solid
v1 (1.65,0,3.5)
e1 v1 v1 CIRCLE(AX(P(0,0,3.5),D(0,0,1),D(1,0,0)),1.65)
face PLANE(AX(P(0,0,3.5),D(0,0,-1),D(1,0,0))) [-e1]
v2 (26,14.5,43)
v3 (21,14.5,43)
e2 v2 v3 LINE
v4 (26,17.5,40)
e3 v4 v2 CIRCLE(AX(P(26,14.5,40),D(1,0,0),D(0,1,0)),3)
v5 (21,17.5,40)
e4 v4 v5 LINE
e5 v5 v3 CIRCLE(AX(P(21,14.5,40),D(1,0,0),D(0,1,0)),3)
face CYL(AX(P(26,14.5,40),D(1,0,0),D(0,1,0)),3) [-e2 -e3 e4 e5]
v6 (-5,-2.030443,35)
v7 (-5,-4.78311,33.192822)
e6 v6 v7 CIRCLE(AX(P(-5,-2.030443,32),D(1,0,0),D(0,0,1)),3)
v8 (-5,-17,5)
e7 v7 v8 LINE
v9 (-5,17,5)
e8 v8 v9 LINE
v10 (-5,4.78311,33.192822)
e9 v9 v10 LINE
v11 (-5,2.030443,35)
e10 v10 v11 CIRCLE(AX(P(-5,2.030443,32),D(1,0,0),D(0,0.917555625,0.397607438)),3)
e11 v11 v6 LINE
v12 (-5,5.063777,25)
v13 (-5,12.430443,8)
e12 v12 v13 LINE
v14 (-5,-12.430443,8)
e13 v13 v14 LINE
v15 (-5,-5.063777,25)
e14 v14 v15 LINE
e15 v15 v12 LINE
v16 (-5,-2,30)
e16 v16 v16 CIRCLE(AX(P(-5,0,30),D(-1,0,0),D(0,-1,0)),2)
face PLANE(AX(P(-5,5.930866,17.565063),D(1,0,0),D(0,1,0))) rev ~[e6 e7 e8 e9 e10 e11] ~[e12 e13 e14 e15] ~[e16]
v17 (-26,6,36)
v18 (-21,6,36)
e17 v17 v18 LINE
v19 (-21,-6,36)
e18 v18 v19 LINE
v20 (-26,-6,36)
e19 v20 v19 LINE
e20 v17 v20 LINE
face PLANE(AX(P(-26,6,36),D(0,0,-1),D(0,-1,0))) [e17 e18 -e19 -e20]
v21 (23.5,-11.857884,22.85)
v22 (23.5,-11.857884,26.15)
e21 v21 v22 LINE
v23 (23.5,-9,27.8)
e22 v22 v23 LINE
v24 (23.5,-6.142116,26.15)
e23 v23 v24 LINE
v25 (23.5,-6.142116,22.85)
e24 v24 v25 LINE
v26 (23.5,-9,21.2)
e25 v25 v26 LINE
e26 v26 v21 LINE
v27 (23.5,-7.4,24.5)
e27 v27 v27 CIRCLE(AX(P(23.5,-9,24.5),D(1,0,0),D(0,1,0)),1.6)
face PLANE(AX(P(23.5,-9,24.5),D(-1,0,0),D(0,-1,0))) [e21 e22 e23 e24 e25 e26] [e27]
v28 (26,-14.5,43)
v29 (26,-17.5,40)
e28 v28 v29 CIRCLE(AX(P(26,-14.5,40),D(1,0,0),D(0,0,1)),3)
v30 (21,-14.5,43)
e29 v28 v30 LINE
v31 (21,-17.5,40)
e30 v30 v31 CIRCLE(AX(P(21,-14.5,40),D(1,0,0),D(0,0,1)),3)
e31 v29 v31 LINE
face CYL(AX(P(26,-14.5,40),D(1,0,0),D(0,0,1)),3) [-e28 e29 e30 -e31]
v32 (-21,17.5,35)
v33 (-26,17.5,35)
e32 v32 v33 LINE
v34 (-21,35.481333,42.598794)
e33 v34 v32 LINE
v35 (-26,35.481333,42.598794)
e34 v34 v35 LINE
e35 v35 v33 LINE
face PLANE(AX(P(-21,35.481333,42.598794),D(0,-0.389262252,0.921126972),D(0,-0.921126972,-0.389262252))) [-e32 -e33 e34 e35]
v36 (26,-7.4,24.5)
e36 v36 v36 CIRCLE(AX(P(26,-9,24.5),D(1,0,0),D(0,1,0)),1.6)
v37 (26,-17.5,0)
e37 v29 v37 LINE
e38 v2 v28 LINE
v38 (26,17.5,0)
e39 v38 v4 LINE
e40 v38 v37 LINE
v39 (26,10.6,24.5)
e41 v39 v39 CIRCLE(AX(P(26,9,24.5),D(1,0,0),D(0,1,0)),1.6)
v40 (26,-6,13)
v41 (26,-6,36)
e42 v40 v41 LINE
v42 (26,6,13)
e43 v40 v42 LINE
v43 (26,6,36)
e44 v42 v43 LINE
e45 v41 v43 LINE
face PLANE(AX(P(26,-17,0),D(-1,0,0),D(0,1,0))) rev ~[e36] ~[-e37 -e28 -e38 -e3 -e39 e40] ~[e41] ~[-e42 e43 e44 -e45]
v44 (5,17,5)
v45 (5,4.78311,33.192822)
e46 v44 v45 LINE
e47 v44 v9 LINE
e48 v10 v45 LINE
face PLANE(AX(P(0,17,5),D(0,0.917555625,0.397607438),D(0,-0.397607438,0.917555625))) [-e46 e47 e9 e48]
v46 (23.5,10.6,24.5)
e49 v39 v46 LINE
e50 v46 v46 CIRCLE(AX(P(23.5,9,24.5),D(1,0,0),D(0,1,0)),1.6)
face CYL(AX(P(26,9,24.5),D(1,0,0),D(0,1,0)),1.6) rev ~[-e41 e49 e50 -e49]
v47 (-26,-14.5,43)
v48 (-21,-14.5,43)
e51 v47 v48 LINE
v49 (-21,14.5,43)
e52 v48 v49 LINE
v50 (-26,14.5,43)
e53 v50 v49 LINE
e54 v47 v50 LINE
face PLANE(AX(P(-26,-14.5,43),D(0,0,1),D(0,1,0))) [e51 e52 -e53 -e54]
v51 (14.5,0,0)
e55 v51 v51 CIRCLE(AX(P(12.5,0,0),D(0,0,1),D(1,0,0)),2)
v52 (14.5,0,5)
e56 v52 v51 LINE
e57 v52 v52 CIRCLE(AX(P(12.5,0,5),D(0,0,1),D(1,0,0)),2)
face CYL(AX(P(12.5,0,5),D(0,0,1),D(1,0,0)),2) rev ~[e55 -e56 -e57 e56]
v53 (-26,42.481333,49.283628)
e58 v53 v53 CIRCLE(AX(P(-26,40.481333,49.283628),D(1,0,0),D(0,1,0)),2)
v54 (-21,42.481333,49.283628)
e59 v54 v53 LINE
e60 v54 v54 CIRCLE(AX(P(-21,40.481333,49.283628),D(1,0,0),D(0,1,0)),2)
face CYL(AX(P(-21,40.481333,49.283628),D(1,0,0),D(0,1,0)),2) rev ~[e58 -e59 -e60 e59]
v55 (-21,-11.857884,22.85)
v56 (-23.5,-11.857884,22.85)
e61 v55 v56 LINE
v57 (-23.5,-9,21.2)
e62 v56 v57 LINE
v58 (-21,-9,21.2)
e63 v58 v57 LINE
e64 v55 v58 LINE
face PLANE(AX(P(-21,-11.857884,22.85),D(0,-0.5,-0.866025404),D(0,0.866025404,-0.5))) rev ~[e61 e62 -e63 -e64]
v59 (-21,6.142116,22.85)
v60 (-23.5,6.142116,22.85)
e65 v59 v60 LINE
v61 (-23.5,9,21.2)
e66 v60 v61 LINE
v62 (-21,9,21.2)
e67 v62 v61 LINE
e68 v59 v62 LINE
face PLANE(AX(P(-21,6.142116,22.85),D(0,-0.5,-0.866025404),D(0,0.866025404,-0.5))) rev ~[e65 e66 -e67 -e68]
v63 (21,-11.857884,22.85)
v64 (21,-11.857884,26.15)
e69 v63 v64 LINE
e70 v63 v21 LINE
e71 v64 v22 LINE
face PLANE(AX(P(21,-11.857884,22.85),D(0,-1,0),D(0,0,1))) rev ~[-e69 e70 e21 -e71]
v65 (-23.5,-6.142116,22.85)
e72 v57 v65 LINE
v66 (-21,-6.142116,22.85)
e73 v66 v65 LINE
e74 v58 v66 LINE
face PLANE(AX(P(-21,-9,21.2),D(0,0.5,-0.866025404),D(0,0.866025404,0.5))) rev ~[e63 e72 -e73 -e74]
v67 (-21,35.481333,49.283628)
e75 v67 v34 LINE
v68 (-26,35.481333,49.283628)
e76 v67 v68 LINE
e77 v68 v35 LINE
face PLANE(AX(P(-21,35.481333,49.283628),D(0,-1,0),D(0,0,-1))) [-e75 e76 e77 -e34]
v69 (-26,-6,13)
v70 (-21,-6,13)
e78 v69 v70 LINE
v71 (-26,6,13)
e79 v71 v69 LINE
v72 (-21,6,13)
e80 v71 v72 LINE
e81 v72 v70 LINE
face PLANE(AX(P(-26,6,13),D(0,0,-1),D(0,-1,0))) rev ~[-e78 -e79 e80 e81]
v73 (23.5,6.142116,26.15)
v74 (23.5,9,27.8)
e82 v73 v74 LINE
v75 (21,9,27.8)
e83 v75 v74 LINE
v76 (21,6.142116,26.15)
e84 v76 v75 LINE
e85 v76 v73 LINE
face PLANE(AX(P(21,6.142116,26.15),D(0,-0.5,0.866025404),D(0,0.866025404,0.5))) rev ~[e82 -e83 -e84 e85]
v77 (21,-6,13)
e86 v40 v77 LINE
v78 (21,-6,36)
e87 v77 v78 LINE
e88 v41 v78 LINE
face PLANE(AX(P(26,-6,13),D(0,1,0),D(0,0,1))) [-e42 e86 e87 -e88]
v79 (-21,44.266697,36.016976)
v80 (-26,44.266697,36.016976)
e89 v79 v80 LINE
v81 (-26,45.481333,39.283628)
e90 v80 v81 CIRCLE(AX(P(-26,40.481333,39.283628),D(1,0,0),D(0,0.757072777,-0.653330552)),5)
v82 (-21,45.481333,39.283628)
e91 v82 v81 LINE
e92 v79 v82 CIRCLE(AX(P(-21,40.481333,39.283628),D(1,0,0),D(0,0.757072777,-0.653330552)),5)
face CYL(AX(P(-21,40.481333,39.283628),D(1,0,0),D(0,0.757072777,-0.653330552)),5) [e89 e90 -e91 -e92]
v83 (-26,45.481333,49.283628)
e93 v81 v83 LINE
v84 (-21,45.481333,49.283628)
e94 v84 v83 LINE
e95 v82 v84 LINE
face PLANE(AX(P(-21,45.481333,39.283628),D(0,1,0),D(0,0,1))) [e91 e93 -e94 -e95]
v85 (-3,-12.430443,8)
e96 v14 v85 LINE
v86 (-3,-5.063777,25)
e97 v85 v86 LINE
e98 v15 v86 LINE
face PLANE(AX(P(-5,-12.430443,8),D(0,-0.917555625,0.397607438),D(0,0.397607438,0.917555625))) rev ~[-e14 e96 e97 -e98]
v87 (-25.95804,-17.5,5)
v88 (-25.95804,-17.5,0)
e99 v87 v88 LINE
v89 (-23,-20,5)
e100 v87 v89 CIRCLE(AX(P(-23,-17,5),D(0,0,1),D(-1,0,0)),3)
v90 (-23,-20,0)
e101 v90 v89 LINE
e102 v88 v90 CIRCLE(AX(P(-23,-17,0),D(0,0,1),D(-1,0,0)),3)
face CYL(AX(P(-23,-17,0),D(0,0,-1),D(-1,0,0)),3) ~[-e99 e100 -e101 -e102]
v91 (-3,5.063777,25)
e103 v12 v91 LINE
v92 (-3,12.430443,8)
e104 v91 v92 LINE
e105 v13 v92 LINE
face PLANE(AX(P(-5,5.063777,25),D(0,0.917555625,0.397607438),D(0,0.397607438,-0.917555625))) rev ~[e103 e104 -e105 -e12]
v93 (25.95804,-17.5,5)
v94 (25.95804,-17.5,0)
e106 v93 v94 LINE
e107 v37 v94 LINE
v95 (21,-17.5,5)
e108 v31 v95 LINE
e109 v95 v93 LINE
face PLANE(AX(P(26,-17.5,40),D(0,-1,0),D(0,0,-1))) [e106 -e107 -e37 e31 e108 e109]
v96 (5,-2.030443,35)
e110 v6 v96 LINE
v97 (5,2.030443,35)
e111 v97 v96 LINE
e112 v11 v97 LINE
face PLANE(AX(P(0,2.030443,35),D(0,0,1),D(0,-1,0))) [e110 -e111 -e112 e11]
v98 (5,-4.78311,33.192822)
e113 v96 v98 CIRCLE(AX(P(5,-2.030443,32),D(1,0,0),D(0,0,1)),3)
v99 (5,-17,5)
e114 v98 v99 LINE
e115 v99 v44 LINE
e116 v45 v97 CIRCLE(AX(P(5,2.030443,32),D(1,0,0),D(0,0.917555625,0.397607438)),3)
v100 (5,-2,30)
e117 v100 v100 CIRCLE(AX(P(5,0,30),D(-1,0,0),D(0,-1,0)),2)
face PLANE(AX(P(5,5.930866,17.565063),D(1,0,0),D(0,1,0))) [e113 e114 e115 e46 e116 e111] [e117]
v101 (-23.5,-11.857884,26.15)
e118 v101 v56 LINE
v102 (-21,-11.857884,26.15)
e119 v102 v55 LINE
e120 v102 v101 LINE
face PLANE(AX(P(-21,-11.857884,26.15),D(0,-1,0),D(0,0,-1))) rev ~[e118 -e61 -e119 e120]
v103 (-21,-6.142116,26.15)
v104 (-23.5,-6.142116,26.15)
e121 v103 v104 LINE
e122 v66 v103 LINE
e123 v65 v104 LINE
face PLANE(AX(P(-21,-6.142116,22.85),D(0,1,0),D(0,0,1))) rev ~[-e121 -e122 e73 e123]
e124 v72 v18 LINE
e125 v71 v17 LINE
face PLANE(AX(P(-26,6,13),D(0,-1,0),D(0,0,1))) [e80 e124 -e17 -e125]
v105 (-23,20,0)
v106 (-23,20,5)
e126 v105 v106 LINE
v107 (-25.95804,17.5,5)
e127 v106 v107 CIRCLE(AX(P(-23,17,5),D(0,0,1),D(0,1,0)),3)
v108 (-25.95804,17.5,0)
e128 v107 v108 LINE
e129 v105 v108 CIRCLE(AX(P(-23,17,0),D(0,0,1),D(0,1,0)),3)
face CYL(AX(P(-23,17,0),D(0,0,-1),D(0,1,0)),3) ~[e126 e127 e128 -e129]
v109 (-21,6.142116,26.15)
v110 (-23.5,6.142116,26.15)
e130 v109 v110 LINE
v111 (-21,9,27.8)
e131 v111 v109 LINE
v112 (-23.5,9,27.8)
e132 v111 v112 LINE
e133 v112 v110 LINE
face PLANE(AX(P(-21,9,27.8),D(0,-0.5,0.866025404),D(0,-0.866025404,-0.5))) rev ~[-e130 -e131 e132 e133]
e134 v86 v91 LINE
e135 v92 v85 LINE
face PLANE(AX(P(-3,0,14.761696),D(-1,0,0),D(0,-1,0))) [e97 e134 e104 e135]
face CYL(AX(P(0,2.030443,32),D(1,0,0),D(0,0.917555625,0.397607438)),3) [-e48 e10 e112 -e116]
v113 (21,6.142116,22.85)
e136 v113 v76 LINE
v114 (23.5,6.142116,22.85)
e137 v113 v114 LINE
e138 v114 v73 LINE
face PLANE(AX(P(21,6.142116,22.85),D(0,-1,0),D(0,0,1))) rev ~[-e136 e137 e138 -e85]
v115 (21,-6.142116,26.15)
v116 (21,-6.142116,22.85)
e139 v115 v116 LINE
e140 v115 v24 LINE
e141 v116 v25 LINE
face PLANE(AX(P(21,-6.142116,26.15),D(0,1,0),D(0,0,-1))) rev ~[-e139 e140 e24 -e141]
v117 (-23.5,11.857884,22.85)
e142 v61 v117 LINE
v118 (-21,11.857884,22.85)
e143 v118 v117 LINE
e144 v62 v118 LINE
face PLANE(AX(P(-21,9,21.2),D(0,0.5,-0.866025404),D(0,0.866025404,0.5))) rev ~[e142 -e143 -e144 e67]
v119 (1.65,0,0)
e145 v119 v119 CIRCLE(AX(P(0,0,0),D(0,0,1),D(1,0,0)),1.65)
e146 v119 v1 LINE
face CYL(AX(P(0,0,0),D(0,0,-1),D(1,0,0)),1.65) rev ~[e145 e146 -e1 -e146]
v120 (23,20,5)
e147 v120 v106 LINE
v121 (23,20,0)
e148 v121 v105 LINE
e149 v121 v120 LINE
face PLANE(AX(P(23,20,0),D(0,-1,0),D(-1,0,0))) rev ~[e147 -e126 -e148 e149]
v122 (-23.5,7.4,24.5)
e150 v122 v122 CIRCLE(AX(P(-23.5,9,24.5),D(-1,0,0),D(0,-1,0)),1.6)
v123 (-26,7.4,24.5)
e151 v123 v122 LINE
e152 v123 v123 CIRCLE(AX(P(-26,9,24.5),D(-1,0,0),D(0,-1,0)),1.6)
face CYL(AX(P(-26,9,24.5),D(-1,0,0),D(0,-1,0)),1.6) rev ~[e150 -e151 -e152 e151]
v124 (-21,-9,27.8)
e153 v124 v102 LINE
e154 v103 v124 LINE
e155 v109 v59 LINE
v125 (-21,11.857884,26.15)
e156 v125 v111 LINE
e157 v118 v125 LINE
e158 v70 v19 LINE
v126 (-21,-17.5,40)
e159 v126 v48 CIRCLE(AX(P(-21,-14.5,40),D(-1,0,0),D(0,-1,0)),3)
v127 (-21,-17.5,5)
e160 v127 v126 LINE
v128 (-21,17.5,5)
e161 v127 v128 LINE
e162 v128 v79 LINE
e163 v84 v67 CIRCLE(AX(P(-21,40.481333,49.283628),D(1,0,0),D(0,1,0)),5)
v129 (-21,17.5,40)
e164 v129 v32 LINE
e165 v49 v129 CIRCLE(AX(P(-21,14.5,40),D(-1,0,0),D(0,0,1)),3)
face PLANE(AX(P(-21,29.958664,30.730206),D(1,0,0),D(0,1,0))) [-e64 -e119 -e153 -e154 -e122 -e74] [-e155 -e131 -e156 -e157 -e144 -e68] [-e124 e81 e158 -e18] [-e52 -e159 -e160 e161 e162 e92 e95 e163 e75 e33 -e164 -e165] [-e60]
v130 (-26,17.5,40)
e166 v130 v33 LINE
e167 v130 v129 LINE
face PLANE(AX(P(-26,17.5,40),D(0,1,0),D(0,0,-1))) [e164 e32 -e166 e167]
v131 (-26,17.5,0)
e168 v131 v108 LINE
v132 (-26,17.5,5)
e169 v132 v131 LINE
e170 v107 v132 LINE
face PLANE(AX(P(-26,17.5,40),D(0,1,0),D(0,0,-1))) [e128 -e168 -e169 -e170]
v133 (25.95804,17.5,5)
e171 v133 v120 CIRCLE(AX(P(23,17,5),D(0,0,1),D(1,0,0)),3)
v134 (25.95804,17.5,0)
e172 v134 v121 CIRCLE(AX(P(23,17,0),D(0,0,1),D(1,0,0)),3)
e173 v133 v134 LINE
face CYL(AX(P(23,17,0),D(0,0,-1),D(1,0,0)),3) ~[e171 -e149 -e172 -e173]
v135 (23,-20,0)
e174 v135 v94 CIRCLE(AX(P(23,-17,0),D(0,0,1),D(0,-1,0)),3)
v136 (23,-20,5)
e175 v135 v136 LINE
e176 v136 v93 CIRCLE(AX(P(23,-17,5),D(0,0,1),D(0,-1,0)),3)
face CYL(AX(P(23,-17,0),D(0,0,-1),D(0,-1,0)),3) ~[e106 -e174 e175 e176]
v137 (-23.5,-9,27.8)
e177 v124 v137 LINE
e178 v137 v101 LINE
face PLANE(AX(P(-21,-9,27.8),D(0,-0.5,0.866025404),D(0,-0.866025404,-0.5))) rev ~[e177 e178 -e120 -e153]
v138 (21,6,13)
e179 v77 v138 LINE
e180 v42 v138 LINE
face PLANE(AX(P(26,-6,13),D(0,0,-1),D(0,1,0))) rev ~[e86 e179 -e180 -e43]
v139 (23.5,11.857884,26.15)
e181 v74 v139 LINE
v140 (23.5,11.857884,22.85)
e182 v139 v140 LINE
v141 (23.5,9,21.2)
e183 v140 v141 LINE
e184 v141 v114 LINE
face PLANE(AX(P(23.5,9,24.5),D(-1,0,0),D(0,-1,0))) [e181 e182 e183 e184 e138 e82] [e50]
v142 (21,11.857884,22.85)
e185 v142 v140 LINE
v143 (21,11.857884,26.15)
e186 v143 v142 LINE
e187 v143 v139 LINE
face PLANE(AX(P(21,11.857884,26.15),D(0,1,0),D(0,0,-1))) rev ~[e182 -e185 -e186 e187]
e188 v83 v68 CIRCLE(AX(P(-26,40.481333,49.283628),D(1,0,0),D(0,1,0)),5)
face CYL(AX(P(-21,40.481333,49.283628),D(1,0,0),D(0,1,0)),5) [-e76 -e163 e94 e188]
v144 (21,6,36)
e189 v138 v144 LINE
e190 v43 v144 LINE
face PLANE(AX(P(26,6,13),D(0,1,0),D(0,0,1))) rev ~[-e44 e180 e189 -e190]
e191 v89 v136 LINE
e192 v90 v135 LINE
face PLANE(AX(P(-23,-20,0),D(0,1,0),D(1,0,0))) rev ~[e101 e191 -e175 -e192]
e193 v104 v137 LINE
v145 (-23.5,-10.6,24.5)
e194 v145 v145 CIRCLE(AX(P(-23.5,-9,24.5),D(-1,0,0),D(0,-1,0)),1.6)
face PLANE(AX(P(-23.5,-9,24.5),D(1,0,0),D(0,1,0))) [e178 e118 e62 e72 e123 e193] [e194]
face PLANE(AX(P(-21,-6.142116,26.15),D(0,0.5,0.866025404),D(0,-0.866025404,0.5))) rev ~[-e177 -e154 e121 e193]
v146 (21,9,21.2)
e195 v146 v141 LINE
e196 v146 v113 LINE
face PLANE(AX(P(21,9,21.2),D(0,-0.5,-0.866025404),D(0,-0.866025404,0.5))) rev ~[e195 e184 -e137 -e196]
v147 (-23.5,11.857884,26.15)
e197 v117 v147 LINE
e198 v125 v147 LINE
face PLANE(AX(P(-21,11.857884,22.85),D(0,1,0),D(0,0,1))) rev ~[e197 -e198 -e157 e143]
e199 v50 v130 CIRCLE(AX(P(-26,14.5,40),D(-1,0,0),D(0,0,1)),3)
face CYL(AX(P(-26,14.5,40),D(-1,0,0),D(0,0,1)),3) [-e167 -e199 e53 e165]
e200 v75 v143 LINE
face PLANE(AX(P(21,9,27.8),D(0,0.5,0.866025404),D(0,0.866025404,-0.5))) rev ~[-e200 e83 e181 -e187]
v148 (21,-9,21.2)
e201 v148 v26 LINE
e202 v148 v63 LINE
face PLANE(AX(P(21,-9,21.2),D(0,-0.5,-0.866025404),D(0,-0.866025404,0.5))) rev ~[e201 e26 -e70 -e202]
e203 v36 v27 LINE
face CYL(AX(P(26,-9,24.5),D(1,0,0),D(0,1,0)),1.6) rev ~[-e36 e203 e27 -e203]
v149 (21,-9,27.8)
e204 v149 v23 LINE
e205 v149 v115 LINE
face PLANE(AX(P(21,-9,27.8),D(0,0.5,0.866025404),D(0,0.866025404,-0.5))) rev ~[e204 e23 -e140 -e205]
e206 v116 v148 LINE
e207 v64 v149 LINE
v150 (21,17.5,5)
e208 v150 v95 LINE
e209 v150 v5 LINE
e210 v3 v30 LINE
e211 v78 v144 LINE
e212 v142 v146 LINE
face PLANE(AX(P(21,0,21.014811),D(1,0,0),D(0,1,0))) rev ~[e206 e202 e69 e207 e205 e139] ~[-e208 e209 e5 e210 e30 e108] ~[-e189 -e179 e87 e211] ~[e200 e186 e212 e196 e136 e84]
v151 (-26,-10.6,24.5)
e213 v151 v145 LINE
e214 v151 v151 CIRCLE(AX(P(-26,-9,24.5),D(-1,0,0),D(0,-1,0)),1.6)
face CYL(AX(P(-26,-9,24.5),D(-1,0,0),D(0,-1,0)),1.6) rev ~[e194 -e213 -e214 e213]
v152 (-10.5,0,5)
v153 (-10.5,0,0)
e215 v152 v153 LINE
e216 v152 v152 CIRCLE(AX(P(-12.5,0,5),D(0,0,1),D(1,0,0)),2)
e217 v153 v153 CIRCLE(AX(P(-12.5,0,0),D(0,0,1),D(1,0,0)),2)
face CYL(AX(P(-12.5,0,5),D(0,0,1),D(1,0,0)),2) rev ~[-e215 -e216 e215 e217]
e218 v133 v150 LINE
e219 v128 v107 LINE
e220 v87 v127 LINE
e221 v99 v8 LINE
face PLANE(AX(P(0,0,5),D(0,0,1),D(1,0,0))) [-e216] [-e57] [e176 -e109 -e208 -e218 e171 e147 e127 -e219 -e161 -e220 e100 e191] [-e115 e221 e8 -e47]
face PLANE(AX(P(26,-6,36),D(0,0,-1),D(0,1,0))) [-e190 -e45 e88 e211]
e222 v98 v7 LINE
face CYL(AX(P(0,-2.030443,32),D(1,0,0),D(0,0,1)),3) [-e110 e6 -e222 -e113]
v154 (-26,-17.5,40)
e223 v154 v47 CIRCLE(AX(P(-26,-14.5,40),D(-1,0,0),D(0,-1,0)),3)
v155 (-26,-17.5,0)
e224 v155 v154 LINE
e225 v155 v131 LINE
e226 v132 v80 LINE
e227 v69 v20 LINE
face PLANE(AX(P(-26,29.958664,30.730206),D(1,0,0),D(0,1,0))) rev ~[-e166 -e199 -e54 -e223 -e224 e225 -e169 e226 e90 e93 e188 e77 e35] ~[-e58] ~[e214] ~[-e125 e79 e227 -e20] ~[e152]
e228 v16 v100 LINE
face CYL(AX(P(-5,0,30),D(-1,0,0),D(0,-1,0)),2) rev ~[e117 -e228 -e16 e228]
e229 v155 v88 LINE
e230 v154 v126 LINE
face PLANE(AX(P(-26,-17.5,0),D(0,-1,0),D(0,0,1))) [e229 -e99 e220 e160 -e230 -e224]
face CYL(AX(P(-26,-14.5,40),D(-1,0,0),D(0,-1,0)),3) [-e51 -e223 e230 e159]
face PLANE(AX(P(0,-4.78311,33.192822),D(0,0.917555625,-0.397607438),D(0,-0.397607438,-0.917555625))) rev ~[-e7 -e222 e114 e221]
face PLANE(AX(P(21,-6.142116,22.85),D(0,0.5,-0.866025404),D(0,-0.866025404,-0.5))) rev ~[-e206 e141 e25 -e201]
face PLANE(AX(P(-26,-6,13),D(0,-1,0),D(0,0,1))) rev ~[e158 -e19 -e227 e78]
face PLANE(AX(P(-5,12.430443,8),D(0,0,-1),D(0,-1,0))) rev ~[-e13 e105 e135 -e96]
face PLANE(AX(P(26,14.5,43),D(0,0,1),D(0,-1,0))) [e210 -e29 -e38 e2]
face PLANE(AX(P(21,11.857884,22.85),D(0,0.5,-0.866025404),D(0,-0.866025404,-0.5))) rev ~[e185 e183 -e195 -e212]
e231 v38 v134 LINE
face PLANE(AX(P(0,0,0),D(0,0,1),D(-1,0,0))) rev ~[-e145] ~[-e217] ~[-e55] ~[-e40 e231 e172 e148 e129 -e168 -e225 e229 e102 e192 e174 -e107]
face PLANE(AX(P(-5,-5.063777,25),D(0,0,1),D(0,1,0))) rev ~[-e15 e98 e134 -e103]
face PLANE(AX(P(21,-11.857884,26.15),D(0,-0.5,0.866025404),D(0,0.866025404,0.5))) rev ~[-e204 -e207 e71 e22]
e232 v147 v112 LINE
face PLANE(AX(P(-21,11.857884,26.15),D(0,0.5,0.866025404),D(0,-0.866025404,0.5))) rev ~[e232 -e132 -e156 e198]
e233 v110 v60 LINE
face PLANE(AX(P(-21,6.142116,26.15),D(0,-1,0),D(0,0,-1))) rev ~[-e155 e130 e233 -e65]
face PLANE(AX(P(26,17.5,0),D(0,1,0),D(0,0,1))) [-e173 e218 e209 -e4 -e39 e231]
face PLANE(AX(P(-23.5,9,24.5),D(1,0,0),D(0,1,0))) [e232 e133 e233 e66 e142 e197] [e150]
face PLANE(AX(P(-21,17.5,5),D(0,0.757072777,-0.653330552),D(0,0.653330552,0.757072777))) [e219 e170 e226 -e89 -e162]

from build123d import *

# Parameters (mm, degrees)
F1_DEPTH      = 5
F2_R          = 1.65
F3_DEPTH      = 3.5
F5_DEPTH      = 5
F5_DEPTH_BACK = 5
F6_R          = 1.6
F6_W          = 12
F6_H          = 23
F7_DEPTH      = 5
F9_DEPTH      = 2.5
F13_ANGLE     = 180
F14_R         = 2
F15_DEPTH     = 25
F17_DEPTH     = 5
F18_R         = 2
F19_DEPTH     = 5.001
F20_R         = 2
F21_DEPTH     = 5.001
F23_DEPTH     = 2


with BuildPart() as f1:
    # F0 (on Top) → F1 (new body)
    with BuildSketch(Plane.XY):
        with BuildLine():
            Line((23, 20), (-23, 20))
            ThreePointArc((-23, 20), (-25.1213203436, 19.1213203436), (-26, 17))
            Line((-26, 17), (-26, -17))
            ThreePointArc((-26, -17), (-25.1213203436, -19.1213203436), (-23, -20))
            Line((-23, -20), (23, -20))
            ThreePointArc((23, -20), (25.1213203436, -19.1213203436), (26, -17))
            Line((26, -17), (26, 17))
            ThreePointArc((26, 17), (25.1213203436, 19.1213203436), (23, 20))
        make_face()
    extrude(amount=F1_DEPTH)

    # F2 (on face) → F3 (cut)
    with BuildSketch(Plane(origin=(0, 0, 0), x_dir=(1, 0, 0), z_dir=(0, 0, -1))):
        Circle(F2_R)
    extrude(amount=-F3_DEPTH, mode=Mode.SUBTRACT)

    # F4 (on Right) → F5 (join, two sides)
    with BuildSketch(Plane.YZ) as f5_sk:
        with BuildLine():
            Line((0, 5), (17, 5))
            Line((17, 5), (4.7831103311, 33.1928223129))
            ThreePointArc((4.7831103311, 33.1928223129), (3.6768840191, 34.5078344182), (2.0304434551, 35))
            Line((2.0304434551, 35), (0, 35))
            Line((0, 35), (0, 5))
        make_face()
        with BuildLine():
            Line((-17, 5), (0, 5))
            Line((0, 5), (0, 35))
            Line((0, 35), (-2.0304434551, 35))
            ThreePointArc((-2.0304434551, 35), (-3.6768840191, 34.5078344182), (-4.7831103311, 33.1928223129))
            Line((-4.7831103311, 33.1928223129), (-17, 5))
        make_face()
    extrude(amount=F5_DEPTH)
    extrude(f5_sk.sketch, amount=-F5_DEPTH_BACK)

    # F6 (on face) → F7 (join)
    with BuildSketch(Plane.YZ.offset(26)):
        with BuildLine():
            Line((17, 0), (17.5, 0))
            Line((17.5, 0), (17.5, 40))
            ThreePointArc((17.5, 40), (16.6213203436, 42.1213203436), (14.5, 43))
            Line((14.5, 43), (-14.5, 43))
            ThreePointArc((-14.5, 43), (-16.6213203436, 42.1213203436), (-17.5, 40))
            Line((-17.5, 40), (-17.5, 0))
            Line((-17.5, 0), (-17, 0))
            Line((-17, 0), (-17, 5))
            Line((-17, 5), (17, 5))
            Line((17, 5), (17, 0))
        make_face()
        with Locations((-9, 24.5)):
            Circle(F6_R, mode=Mode.SUBTRACT)
        with Locations((0, 24.5)):
            Rectangle(F6_W, F6_H, mode=Mode.SUBTRACT)
        with Locations((9, 24.5)):
            Circle(F6_R, mode=Mode.SUBTRACT)
    extrude(amount=-F7_DEPTH)

    # F8 (on face) → F9 (cut)
    with BuildSketch(Plane(origin=(21, 0, 0), x_dir=(0, -1, 0), z_dir=(-1, 0, 0))):
        Polygon((11.8578838325, 26.15), (9, 27.8), (6.1421161675, 26.15), (6.1421161675, 22.85), (9, 21.2), (11.8578838325, 22.85), align=None)
        Polygon((-11.8578838325, 22.85), (-9, 21.2), (-6.1421161675, 22.85), (-6.1421161675, 26.15), (-9, 27.8), (-11.8578838325, 26.15), align=None)
    extrude(amount=-F9_DEPTH, mode=Mode.SUBTRACT)


with BuildPart() as f10_1:
    # F10: copy of F1
    add(f1.part.moved(Location((-47, 0, 0))))


with BuildPart() as f10_1_1:
    # F13: moved
    add(f10_1.part.rotate(Axis((-23.5, 0, 21.4526057243), (0, 0, 1)), F13_ANGLE))


with BuildPart() as f15_tool:
    # F14 (on face) → F15 (new body)
    with BuildSketch(Plane(origin=(-5, 0, 0), x_dir=(0, -1, 0), z_dir=(-1, 0, 0))):
        with Locations((0, 30)):
            Circle(F14_R)
    extrude(amount=-F15_DEPTH)


with BuildPart() as f1_1:
    add(f1.part)

    # F15: cut by f15_tool
    add(f15_tool.part, mode=Mode.SUBTRACT)



with BuildPart() as f10_1_2:
    add(f10_1_1.part)

    # F15: cut by f15_tool
    add(f15_tool.part, mode=Mode.SUBTRACT)


with BuildPart() as f1_2:
    add(f1_1.part)

    add(f10_1_2.part)  # F17 merges F10_1
    # F16 (on face) → F17 (join)
    with BuildSketch(Plane.YZ.offset(-21)):
        with BuildLine():
            Line((17.5, 35), (17.5, 5))
            Line((17.5, 5), (44.2666971773, 36.0169755285))
            ThreePointArc((44.2666971773, 36.0169755285), (45.1678468921, 37.5410467887), (45.4813332936, 39.2836282906))
            Line((45.4813332936, 39.2836282906), (45.4813332936, 49.2836282906))
            ThreePointArc((45.4813332936, 49.2836282906), (40.4813332936, 54.2836282906), (35.4813332936, 49.2836282906))
            Line((35.4813332936, 49.2836282906), (35.4813332936, 42.5987942024))
            Line((35.4813332936, 42.5987942024), (17.5, 35))
        make_face()
    extrude(amount=-F17_DEPTH)

    # F18 (on face) → F19 (cut, through all)
    with BuildSketch(Plane.YZ.offset(-21)):
        with Locations((40.4813332936, 49.2836282906)):
            Circle(F18_R)
    extrude(amount=-F19_DEPTH, mode=Mode.SUBTRACT)

    # F20 (on face) → F21 (cut, through all)
    with BuildSketch(Plane.XY.offset(5)):
        with Locations((-12.5, 0)):
            Circle(F20_R)
        with Locations((12.5, 0)):
            Circle(F20_R)
    extrude(amount=-F21_DEPTH, mode=Mode.SUBTRACT)

    # F22 (on face) → F23 (cut)
    with BuildSketch(Plane(origin=(-5, 0, 0), x_dir=(0, -1, 0), z_dir=(-1, 0, 0))):
        Polygon((-5.0637767885, 25), (-12.4304434551, 8), (12.4304434551, 8), (5.0637767885, 25), align=None)
    extrude(amount=-F23_DEPTH, mode=Mode.SUBTRACT)


solid = f1_2.part
